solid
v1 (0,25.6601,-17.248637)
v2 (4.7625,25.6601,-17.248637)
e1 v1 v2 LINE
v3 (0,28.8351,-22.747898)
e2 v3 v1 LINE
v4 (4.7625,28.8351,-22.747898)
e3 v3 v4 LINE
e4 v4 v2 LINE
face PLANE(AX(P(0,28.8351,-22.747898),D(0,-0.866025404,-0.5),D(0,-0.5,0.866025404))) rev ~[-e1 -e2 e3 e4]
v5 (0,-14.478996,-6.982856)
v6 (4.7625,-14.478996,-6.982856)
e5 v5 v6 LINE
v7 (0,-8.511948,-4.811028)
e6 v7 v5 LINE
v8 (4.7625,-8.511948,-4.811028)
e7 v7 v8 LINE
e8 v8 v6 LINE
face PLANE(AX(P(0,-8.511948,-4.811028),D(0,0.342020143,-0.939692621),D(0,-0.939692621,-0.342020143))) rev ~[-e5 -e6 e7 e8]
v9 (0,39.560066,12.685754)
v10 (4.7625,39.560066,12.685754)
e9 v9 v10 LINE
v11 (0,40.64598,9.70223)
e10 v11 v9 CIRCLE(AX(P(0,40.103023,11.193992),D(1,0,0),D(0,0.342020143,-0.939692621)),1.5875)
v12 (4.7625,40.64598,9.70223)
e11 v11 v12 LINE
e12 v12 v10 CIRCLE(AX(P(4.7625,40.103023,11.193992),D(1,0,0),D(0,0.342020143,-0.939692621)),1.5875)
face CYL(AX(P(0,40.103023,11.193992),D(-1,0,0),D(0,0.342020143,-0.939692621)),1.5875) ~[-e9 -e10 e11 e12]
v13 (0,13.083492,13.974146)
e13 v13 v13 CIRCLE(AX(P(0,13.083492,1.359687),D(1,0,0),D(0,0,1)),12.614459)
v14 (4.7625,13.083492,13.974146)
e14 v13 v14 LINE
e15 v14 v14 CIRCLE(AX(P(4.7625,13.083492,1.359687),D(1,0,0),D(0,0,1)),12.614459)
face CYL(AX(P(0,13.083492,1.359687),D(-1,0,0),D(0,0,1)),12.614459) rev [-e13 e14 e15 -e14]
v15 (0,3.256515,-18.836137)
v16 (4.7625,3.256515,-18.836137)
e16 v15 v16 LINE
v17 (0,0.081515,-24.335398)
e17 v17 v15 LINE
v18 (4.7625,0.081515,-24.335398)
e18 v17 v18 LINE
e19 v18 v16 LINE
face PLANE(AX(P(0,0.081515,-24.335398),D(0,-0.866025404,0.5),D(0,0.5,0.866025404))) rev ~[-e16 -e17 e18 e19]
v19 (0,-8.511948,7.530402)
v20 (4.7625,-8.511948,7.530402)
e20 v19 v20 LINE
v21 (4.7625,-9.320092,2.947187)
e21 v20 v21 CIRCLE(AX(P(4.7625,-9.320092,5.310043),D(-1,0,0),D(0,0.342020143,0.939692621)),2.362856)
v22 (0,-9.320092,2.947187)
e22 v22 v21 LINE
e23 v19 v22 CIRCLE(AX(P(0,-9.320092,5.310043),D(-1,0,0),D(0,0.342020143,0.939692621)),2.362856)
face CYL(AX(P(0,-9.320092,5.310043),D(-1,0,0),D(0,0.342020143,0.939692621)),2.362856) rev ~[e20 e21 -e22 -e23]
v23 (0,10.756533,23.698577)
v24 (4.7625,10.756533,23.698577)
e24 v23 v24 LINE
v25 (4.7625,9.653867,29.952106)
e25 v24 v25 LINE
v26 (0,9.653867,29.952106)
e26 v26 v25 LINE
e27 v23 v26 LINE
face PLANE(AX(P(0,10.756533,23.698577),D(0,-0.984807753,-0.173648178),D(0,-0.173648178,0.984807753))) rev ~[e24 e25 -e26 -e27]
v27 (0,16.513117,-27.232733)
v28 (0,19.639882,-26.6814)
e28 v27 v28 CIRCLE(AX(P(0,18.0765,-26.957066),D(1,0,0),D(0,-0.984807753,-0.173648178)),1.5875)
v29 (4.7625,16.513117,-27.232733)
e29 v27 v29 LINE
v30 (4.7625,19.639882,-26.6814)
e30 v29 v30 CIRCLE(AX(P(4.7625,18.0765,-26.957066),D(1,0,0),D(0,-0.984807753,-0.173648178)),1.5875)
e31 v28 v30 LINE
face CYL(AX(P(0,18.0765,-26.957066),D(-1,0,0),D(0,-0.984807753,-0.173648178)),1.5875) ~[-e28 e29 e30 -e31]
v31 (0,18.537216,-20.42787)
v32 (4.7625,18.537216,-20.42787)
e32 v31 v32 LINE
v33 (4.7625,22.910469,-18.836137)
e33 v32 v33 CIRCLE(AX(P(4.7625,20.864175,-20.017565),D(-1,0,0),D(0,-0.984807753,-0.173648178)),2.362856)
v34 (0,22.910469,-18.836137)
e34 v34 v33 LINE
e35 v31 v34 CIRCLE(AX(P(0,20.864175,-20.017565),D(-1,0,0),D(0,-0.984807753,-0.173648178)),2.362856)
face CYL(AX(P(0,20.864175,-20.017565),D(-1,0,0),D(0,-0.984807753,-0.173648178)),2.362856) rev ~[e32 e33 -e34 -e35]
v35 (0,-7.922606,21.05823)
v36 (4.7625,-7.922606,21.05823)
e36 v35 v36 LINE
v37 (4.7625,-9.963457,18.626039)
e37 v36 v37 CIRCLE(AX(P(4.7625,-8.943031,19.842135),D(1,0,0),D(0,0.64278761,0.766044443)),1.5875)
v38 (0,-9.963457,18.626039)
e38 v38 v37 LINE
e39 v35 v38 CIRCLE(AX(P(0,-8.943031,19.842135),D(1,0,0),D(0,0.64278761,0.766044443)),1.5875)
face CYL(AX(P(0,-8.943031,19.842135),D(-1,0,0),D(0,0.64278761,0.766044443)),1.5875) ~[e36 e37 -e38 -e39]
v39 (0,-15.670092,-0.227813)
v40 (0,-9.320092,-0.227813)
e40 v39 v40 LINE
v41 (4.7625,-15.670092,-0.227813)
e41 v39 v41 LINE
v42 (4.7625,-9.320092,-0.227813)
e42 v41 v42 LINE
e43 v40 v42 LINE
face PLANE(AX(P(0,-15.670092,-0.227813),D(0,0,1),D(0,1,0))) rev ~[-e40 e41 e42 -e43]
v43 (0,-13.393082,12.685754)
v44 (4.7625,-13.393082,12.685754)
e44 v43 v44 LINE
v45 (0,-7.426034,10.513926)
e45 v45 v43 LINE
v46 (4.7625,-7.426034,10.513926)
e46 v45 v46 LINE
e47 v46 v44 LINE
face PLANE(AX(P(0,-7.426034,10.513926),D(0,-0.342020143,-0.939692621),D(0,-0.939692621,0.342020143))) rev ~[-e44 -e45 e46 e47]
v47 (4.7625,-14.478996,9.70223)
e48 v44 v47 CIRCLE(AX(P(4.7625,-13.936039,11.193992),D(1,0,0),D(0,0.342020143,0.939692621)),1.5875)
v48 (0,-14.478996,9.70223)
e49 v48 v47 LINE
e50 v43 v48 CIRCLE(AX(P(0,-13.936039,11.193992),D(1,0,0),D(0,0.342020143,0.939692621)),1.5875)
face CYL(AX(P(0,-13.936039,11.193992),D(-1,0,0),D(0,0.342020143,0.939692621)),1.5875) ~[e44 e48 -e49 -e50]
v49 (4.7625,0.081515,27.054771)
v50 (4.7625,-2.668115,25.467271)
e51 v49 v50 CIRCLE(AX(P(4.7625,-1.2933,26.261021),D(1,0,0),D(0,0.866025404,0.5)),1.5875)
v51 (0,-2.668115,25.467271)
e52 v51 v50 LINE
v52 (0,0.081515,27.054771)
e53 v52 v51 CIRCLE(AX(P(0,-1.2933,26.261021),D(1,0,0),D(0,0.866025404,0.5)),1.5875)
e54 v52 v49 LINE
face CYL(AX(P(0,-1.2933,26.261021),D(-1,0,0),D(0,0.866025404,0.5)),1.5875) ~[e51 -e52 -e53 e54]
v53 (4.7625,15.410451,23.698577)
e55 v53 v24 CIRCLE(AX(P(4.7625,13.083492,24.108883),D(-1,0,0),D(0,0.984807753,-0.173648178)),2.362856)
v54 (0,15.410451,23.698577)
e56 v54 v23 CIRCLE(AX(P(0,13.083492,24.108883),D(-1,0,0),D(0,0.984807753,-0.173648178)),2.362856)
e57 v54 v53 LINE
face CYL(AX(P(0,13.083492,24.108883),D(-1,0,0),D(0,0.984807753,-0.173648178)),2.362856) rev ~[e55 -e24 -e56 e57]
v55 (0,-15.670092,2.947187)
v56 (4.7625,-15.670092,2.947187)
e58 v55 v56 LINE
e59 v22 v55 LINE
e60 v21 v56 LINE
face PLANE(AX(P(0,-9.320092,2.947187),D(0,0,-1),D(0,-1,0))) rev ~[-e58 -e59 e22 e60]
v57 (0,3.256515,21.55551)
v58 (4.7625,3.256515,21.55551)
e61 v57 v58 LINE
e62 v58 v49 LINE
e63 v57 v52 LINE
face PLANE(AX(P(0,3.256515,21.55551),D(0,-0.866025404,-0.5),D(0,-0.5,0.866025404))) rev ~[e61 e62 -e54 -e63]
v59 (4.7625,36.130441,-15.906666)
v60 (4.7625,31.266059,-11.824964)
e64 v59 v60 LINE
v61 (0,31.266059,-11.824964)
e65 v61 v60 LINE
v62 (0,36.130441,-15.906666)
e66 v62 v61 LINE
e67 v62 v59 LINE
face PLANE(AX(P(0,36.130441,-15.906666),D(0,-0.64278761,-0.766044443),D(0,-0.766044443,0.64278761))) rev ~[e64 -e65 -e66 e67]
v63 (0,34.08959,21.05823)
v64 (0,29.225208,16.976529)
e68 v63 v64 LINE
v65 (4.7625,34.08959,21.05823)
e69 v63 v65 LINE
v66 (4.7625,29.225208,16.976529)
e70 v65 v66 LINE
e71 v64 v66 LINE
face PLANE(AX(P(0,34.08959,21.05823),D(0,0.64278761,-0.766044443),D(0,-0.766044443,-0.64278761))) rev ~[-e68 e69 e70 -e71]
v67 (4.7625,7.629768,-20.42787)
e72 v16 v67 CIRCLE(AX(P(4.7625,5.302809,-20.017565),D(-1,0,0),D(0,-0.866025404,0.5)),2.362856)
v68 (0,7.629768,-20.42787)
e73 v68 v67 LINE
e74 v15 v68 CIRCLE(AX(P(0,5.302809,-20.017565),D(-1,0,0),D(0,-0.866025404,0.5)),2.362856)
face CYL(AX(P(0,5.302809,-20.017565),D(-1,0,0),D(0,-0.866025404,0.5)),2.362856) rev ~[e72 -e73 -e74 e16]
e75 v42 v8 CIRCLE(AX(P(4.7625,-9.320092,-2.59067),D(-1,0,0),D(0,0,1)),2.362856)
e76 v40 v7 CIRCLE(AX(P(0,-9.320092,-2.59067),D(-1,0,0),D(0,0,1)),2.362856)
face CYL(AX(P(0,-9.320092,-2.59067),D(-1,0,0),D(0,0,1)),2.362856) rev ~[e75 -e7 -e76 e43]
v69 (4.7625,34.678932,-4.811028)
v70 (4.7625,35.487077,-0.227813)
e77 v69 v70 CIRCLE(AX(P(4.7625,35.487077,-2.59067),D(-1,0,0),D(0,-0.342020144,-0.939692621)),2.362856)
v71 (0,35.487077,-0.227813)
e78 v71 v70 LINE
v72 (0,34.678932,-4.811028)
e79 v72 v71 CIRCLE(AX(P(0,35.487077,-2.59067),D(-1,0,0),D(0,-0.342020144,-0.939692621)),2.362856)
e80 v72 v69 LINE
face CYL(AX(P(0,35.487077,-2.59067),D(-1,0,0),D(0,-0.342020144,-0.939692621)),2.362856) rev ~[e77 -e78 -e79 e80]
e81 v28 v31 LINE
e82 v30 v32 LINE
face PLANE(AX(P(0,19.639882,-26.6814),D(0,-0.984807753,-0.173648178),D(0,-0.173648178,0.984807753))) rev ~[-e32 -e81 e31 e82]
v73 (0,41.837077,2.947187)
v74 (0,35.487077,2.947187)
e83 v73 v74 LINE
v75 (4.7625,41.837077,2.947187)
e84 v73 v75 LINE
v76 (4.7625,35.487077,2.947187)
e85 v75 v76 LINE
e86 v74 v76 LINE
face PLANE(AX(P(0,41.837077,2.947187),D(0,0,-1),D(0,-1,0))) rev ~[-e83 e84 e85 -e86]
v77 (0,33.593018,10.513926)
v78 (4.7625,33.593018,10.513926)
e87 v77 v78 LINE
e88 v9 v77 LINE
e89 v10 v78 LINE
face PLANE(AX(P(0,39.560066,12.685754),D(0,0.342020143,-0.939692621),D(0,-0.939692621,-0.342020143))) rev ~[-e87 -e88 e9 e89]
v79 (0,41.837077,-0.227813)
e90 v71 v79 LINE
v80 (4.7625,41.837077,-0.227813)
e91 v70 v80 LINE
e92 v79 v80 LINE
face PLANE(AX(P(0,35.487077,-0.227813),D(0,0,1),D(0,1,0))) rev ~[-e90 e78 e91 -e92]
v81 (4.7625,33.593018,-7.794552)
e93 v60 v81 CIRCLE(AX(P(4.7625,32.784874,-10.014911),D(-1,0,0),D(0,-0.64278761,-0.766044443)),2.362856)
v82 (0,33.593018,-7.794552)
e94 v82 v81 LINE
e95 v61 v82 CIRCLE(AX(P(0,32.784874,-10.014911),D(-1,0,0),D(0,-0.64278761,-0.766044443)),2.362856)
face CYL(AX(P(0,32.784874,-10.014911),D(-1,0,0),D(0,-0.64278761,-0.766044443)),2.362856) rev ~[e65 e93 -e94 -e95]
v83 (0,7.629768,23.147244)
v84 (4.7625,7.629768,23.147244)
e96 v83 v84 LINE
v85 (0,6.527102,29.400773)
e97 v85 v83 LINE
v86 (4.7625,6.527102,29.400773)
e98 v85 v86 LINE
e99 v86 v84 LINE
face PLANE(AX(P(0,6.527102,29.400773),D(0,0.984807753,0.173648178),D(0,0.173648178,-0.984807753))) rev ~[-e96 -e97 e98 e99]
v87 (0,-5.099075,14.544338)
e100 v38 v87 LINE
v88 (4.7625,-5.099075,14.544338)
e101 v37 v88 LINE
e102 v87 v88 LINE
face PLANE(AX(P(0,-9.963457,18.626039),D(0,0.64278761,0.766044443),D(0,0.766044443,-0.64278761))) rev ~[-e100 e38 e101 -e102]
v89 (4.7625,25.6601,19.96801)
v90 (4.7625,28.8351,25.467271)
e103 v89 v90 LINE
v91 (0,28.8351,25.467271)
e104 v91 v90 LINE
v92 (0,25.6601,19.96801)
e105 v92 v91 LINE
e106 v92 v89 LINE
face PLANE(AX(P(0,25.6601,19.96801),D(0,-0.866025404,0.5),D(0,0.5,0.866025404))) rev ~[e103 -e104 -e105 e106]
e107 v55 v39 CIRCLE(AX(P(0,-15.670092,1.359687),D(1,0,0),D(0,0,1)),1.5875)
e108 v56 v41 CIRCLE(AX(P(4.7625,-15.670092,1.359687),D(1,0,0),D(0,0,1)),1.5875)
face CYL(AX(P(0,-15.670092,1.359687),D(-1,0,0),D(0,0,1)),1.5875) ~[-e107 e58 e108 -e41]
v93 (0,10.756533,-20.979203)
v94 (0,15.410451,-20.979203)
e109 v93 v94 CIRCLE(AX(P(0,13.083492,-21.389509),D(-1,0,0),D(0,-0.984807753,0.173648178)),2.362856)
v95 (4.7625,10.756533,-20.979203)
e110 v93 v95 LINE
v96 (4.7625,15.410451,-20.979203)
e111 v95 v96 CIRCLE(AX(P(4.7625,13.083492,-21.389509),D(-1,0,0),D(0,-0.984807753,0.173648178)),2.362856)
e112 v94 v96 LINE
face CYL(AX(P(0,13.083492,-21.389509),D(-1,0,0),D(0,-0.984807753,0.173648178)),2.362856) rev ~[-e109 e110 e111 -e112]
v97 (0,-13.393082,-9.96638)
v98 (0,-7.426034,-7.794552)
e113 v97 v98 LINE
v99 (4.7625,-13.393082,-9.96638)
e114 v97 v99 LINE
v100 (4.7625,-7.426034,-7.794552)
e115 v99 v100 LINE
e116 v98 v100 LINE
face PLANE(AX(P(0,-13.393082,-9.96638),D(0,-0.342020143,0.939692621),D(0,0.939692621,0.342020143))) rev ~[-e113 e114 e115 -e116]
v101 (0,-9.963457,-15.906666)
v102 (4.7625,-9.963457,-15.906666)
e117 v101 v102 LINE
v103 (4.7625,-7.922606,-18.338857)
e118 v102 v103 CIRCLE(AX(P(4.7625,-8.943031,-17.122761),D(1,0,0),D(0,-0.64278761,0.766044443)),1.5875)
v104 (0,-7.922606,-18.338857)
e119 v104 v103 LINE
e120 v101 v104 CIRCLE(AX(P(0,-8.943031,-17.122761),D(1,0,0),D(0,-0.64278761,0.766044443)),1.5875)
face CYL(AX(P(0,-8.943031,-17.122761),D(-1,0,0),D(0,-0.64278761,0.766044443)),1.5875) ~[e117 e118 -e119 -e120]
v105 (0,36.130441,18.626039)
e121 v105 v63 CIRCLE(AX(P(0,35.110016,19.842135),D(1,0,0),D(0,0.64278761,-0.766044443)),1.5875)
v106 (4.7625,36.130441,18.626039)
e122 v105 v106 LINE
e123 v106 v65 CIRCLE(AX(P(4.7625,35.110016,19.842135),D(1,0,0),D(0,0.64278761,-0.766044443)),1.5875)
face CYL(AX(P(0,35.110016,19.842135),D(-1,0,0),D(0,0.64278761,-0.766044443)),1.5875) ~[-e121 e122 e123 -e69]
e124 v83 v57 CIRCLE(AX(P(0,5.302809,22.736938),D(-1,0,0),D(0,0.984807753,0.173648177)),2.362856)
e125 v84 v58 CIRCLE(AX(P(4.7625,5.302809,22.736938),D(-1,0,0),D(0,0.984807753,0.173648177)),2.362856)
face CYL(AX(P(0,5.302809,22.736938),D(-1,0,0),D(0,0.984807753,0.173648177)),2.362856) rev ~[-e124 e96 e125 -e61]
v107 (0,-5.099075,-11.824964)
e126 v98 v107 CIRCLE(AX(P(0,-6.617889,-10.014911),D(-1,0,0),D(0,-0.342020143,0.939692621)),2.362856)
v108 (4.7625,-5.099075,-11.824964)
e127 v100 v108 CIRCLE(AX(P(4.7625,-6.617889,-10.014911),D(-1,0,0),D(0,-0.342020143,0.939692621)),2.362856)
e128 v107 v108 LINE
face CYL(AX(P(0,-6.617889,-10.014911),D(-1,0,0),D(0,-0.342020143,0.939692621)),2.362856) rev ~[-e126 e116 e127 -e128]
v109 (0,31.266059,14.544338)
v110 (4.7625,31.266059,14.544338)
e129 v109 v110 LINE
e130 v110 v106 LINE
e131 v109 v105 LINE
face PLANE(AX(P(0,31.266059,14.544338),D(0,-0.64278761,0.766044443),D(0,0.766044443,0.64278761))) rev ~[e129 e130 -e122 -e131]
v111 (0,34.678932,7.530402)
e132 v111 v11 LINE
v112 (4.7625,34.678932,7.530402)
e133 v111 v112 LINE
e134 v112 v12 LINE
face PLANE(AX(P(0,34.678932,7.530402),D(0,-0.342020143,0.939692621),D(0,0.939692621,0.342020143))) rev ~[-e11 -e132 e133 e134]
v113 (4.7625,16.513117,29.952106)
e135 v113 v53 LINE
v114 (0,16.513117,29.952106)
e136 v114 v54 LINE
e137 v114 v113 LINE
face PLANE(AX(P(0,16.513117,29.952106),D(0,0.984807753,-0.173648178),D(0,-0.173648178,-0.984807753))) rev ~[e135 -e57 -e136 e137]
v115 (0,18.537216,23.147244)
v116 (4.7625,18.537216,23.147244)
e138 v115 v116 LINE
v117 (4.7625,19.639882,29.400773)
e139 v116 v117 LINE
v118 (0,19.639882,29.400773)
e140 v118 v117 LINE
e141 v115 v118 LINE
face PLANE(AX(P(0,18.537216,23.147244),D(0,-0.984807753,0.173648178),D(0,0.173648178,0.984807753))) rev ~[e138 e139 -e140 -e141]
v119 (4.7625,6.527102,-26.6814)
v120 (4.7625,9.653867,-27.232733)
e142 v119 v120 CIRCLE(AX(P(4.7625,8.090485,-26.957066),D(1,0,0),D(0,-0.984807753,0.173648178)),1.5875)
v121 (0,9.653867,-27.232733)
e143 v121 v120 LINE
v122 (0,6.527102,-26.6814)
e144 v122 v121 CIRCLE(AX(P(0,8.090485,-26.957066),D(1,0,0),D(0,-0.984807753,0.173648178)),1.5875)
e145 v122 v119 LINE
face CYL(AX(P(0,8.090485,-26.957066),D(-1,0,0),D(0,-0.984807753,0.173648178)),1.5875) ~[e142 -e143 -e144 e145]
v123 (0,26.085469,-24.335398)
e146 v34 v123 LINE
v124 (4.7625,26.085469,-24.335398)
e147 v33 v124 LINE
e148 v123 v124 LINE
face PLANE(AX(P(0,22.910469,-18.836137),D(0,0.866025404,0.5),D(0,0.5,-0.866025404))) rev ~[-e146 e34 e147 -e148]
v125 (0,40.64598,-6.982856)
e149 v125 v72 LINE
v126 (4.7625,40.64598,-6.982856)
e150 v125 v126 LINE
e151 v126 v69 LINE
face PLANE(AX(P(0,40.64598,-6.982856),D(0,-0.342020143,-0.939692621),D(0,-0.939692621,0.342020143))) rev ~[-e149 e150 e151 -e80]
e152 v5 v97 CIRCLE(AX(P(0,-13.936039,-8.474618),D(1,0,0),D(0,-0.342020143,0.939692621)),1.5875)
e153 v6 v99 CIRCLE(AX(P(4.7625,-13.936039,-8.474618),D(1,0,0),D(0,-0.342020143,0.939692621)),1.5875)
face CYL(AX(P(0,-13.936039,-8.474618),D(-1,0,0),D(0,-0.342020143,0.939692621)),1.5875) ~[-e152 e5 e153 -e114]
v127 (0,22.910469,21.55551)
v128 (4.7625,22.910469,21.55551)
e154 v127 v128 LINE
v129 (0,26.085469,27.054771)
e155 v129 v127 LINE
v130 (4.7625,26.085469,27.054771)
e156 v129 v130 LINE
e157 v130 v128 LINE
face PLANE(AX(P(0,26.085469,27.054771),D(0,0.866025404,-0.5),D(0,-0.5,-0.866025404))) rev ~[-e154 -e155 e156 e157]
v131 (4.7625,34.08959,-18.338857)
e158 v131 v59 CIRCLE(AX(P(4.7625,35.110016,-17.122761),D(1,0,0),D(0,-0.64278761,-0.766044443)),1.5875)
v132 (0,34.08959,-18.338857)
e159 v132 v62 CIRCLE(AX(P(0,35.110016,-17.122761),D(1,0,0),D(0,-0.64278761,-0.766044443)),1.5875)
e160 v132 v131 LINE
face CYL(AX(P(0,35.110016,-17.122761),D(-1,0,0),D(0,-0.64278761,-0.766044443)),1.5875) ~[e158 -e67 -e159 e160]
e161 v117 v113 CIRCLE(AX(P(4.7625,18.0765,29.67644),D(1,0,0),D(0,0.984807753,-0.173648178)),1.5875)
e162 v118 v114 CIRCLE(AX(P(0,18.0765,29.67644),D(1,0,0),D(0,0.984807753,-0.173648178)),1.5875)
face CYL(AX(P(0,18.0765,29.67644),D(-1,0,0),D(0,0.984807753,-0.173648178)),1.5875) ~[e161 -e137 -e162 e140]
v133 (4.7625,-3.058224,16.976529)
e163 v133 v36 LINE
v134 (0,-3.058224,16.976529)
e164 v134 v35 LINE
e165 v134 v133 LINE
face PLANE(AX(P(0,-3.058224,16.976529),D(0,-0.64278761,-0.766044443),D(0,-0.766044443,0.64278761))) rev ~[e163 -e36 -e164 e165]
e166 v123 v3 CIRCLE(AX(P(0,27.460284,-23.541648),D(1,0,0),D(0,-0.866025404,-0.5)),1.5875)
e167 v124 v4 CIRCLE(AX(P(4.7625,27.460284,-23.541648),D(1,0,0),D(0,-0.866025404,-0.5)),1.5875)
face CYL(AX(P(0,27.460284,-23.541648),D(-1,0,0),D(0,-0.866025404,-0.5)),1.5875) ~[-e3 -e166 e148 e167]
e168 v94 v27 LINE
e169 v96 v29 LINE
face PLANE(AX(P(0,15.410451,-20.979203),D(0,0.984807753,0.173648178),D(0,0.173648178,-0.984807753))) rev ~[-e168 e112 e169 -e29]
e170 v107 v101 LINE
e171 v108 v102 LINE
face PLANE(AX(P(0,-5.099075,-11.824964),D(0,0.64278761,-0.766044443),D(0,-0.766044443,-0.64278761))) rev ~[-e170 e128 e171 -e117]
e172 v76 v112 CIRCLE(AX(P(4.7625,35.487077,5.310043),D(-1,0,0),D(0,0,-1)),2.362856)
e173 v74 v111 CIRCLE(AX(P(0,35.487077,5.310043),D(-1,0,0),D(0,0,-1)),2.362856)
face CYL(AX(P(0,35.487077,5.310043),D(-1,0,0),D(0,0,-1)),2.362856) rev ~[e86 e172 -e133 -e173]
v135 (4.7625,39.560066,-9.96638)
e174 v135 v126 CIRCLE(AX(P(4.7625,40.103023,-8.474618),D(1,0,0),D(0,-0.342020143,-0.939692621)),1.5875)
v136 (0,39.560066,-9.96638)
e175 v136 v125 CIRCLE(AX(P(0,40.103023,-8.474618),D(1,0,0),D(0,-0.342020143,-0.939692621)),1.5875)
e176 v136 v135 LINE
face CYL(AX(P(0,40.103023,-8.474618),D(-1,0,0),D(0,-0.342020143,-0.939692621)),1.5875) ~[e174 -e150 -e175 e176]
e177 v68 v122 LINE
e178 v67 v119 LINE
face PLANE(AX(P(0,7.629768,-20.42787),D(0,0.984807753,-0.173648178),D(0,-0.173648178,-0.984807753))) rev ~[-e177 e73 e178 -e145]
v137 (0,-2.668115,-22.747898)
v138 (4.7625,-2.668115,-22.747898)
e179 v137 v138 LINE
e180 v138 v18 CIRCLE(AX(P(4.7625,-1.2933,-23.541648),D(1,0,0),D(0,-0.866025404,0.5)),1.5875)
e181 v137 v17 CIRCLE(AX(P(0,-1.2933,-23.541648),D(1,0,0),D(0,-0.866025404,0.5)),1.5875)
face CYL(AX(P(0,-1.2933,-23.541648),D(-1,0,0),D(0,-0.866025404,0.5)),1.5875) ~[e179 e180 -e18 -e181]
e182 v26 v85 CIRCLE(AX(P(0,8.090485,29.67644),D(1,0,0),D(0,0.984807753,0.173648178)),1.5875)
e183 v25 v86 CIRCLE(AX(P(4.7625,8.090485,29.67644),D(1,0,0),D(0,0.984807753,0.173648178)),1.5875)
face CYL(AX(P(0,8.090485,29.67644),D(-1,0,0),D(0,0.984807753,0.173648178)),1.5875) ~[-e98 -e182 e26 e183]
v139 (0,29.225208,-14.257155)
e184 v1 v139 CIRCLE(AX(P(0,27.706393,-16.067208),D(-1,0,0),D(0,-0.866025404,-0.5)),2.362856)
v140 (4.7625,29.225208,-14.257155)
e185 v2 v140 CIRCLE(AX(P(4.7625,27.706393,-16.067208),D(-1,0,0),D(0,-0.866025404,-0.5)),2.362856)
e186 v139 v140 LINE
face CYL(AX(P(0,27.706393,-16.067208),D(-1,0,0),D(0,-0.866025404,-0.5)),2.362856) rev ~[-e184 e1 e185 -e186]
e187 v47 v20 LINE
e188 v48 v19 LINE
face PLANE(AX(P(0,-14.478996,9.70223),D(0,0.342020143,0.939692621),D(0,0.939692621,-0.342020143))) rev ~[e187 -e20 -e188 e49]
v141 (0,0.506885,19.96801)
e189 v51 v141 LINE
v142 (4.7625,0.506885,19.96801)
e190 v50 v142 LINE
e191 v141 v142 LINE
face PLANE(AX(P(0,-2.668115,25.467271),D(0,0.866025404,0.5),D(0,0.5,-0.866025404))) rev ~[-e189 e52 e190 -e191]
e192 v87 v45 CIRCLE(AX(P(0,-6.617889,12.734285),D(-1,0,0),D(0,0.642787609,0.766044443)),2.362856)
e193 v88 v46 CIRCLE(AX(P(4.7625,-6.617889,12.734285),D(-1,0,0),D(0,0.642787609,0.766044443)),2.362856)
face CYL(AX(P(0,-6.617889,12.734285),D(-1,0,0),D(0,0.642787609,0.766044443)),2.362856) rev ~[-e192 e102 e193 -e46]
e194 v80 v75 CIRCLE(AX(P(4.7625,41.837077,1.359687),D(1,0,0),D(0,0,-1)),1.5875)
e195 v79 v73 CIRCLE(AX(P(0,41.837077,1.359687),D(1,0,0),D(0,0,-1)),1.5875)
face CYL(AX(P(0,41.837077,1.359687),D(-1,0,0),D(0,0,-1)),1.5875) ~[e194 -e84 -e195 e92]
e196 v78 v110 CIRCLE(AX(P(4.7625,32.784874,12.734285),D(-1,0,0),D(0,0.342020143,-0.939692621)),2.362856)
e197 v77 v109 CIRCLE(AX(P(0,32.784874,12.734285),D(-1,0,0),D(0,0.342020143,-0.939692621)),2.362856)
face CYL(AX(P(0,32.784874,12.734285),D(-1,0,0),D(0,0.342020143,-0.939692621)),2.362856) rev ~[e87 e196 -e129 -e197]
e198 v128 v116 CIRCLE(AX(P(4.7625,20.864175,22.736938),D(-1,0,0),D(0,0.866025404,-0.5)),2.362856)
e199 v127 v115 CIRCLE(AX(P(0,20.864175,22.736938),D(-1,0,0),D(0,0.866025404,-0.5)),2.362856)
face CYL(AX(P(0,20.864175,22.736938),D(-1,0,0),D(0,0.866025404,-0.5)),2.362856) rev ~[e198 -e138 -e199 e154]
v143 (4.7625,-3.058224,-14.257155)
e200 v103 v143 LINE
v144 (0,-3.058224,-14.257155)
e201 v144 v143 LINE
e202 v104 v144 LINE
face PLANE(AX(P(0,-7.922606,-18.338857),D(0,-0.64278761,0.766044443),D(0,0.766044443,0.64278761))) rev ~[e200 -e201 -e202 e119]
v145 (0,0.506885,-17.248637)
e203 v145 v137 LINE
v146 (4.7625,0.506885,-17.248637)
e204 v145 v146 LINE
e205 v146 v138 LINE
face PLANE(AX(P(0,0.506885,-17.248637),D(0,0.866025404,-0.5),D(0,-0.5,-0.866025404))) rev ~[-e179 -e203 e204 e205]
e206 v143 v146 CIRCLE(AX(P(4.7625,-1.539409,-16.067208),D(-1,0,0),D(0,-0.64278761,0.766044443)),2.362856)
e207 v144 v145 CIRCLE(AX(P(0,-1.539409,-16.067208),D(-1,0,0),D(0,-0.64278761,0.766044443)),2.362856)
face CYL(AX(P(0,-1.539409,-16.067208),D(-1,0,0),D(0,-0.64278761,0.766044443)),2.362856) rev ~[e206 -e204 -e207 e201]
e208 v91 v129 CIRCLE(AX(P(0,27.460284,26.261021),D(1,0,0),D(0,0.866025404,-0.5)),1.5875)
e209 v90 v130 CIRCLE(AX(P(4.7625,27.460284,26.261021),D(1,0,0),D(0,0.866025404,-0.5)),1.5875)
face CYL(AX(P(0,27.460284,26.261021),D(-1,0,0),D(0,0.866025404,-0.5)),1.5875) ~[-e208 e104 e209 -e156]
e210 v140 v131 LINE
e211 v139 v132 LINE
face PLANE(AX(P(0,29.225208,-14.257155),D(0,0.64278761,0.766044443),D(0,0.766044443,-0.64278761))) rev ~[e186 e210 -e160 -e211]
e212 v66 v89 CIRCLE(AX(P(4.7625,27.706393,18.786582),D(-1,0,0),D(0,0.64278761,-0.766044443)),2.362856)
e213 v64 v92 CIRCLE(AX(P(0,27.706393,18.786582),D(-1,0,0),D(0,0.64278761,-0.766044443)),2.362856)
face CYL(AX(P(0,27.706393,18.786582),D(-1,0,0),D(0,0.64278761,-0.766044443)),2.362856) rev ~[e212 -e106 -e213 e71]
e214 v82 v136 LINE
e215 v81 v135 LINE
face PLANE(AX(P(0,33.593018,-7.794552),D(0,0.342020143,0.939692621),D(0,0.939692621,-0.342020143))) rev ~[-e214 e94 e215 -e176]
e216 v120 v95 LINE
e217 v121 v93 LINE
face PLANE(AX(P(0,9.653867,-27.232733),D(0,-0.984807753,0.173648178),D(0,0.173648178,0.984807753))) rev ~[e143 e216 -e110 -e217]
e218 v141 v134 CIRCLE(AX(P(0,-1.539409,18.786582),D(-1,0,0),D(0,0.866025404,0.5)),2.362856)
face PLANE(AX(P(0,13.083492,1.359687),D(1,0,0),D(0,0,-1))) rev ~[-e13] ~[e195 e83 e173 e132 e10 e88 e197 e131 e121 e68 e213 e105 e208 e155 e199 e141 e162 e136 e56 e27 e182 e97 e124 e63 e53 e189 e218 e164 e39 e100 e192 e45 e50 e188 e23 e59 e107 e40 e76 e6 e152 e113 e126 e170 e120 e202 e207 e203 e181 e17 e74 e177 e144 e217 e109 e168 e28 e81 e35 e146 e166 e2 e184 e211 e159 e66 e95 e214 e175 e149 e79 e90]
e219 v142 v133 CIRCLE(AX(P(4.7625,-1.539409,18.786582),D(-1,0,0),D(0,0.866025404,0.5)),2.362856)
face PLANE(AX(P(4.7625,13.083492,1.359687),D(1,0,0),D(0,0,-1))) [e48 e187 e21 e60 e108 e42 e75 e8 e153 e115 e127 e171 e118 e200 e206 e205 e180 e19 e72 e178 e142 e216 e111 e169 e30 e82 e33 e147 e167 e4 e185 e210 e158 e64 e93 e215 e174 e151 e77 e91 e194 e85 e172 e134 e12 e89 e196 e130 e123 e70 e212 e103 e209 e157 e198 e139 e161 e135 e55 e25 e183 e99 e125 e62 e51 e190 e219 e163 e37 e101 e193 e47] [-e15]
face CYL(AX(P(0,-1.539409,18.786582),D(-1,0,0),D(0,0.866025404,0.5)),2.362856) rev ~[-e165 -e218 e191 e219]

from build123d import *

# Parameters (mm, degrees)
SKETCH1_R           = 12.614459283
BOSS_EXTRUDE1_DEPTH = 4.7625


with BuildPart() as part:
    # Sketch1 → Boss-Extrude1 (new body)
    with BuildSketch(Plane(origin=(0, 0, 0), x_dir=(0, 0, -1), z_dir=(1, 0, 0))):
        with BuildLine():
            Line((6.982856305, 40.645980292), (4.811028394, 34.67893215))
            ThreePointArc((4.811028394, 34.67893215), (2.180363954, 33.160117328), (0.227813255, 35.487076638))
            Line((0.227813255, 35.487076638), (0.227813255, 41.837076638))
            ThreePointArc((0.227813255, 41.837076638), (-1.359686745, 43.424576638), (-2.947186745, 41.837076638))
            Line((-2.947186745, 41.837076638), (-2.947186745, 35.487076638))
            ThreePointArc((-2.947186745, 35.487076638), (-4.899737444, 33.160117328), (-7.530401884, 34.67893215))
            Line((-7.530401884, 34.67893215), (-9.702229795, 40.645980292))
            ThreePointArc((-9.702229795, 40.645980292), (-11.736948808, 41.59478535), (-12.685753866, 39.560066337))
            Line((-12.685753866, 39.560066337), (-10.513925955, 33.593018195))
            ThreePointArc((-10.513925955, 33.593018195), (-11.552856482, 30.738580033), (-14.544337708, 31.266058885))
            Line((-14.544337708, 31.266058885), (-18.62603903, 36.130441099))
            ThreePointArc((-18.62603903, 36.130441099), (-20.862559913, 36.326111322), (-21.058230136, 34.089590438))
            Line((-21.058230136, 34.089590438), (-16.976528815, 29.225208224))
            ThreePointArc((-16.976528815, 29.225208224), (-16.976528815, 26.187578579), (-19.968010041, 25.660099726))
            Line((-19.968010041, 25.660099726), (-25.467271355, 28.835099726))
            ThreePointArc((-25.467271355, 28.835099726), (-27.635836683, 28.254034398), (-27.054771355, 26.085469069))
            Line((-27.054771355, 26.085469069), (-21.555510041, 22.910469069))
            ThreePointArc((-21.555510041, 22.910469069), (-20.516579514, 20.056030907), (-23.147243954, 18.537216084))
            Line((-23.147243954, 18.537216084), (-29.400773186, 19.639882012))
            ThreePointArc((-29.400773186, 19.639882012), (-31.239821976, 18.352166186), (-29.95210615, 16.513117396))
            Line((-29.95210615, 16.513117396), (-23.698576918, 15.410451468))
            ThreePointArc((-23.698576918, 15.410451468), (-21.746026219, 13.083492158), (-23.698576918, 10.756532847))
            Line((-23.698576918, 10.756532847), (-29.95210615, 9.653866919))
            ThreePointArc((-29.95210615, 9.653866919), (-31.239821976, 7.814818129), (-29.400773186, 6.527102303))
            Line((-29.400773186, 6.527102303), (-23.147243954, 7.629768232))
            ThreePointArc((-23.147243954, 7.629768232), (-20.516579514, 6.110953409), (-21.555510041, 3.256515246))
            Line((-21.555510041, 3.256515246), (-27.054771355, 0.081515246))
            ThreePointArc((-27.054771355, 0.081515246), (-27.635836683, -2.087050082), (-25.467271355, -2.668115411))
            Line((-25.467271355, -2.668115411), (-19.968010041, 0.506884589))
            ThreePointArc((-19.968010041, 0.506884589), (-16.976528815, -0.020594263), (-16.976528815, -3.058223909))
            Line((-16.976528815, -3.058223909), (-21.058230136, -7.922606123))
            ThreePointArc((-21.058230136, -7.922606123), (-20.862559913, -10.159127007), (-18.62603903, -9.963456784))
            Line((-18.62603903, -9.963456784), (-14.544337708, -5.09907457))
            ThreePointArc((-14.544337708, -5.09907457), (-11.552856482, -4.571595717), (-10.513925955, -7.42603388))
            Line((-10.513925955, -7.42603388), (-12.685753866, -13.393082022))
            ThreePointArc((-12.685753866, -13.393082022), (-11.736948808, -15.427801035), (-9.702229795, -14.478995977))
            Line((-9.702229795, -14.478995977), (-7.530401884, -8.511947835))
            ThreePointArc((-7.530401884, -8.511947835), (-4.899737444, -6.993133012), (-2.947186745, -9.320092323))
            Line((-2.947186745, -9.320092323), (-2.947186745, -15.670092323))
            ThreePointArc((-2.947186745, -15.670092323), (-1.359686745, -17.257592323), (0.227813255, -15.670092323))
            Line((0.227813255, -15.670092323), (0.227813255, -9.320092323))
            ThreePointArc((0.227813255, -9.320092323), (2.180363954, -6.993133012), (4.811028394, -8.511947835))
            Line((4.811028394, -8.511947835), (6.982856305, -14.478995977))
            ThreePointArc((6.982856305, -14.478995977), (9.017575318, -15.427801035), (9.966380376, -13.393082022))
            Line((9.966380376, -13.393082022), (7.794552465, -7.42603388))
            ThreePointArc((7.794552465, -7.42603388), (8.833482992, -4.571595717), (11.824964218, -5.09907457))
            Line((11.824964218, -5.09907457), (15.90666554, -9.963456784))
            ThreePointArc((15.90666554, -9.963456784), (18.143186423, -10.159127007), (18.338856646, -7.922606123))
            Line((18.338856646, -7.922606123), (14.257155325, -3.058223909))
            ThreePointArc((14.257155325, -3.058223909), (14.257155325, -0.020594263), (17.248636551, 0.506884589))
            Line((17.248636551, 0.506884589), (22.747897865, -2.668115411))
            ThreePointArc((22.747897865, -2.668115411), (24.916463193, -2.087050082), (24.335397865, 0.081515246))
            Line((24.335397865, 0.081515246), (18.836136551, 3.256515246))
            ThreePointArc((18.836136551, 3.256515246), (17.797206024, 6.110953409), (20.427870464, 7.629768232))
            Line((20.427870464, 7.629768232), (26.681399696, 6.527102303))
            ThreePointArc((26.681399696, 6.527102303), (28.520448486, 7.814818129), (27.23273266, 9.653866919))
            Line((27.23273266, 9.653866919), (20.979203428, 10.756532847))
            ThreePointArc((20.979203428, 10.756532847), (19.026652729, 13.083492158), (20.979203428, 15.410451468))
            Line((20.979203428, 15.410451468), (27.23273266, 16.513117396))
            ThreePointArc((27.23273266, 16.513117396), (28.520448486, 18.352166186), (26.681399696, 19.639882012))
            Line((26.681399696, 19.639882012), (20.427870464, 18.537216084))
            ThreePointArc((20.427870464, 18.537216084), (17.797206024, 20.056030907), (18.836136551, 22.910469069))
            Line((18.836136551, 22.910469069), (24.335397865, 26.085469069))
            ThreePointArc((24.335397865, 26.085469069), (24.916463193, 28.254034398), (22.747897865, 28.835099726))
            Line((22.747897865, 28.835099726), (17.248636551, 25.660099726))
            ThreePointArc((17.248636551, 25.660099726), (14.257155325, 26.187578579), (14.257155325, 29.225208224))
            Line((14.257155325, 29.225208224), (18.338856646, 34.089590438))
            ThreePointArc((18.338856646, 34.089590438), (18.143186423, 36.326111322), (15.90666554, 36.130441099))
            Line((15.90666554, 36.130441099), (11.824964218, 31.266058885))
            ThreePointArc((11.824964218, 31.266058885), (8.833482992, 30.738580033), (7.794552465, 33.593018195))
            Line((7.794552465, 33.593018195), (9.966380376, 39.560066337))
            ThreePointArc((9.966380376, 39.560066337), (9.017575318, 41.59478535), (6.982856305, 40.645980292))
        make_face()
        with Locations(Location((-1.359686745, 13.083492158, 0), (0, 0, 180))):
            Circle(SKETCH1_R, mode=Mode.SUBTRACT)
    extrude(amount=BOSS_EXTRUDE1_DEPTH)


solid = part.part
